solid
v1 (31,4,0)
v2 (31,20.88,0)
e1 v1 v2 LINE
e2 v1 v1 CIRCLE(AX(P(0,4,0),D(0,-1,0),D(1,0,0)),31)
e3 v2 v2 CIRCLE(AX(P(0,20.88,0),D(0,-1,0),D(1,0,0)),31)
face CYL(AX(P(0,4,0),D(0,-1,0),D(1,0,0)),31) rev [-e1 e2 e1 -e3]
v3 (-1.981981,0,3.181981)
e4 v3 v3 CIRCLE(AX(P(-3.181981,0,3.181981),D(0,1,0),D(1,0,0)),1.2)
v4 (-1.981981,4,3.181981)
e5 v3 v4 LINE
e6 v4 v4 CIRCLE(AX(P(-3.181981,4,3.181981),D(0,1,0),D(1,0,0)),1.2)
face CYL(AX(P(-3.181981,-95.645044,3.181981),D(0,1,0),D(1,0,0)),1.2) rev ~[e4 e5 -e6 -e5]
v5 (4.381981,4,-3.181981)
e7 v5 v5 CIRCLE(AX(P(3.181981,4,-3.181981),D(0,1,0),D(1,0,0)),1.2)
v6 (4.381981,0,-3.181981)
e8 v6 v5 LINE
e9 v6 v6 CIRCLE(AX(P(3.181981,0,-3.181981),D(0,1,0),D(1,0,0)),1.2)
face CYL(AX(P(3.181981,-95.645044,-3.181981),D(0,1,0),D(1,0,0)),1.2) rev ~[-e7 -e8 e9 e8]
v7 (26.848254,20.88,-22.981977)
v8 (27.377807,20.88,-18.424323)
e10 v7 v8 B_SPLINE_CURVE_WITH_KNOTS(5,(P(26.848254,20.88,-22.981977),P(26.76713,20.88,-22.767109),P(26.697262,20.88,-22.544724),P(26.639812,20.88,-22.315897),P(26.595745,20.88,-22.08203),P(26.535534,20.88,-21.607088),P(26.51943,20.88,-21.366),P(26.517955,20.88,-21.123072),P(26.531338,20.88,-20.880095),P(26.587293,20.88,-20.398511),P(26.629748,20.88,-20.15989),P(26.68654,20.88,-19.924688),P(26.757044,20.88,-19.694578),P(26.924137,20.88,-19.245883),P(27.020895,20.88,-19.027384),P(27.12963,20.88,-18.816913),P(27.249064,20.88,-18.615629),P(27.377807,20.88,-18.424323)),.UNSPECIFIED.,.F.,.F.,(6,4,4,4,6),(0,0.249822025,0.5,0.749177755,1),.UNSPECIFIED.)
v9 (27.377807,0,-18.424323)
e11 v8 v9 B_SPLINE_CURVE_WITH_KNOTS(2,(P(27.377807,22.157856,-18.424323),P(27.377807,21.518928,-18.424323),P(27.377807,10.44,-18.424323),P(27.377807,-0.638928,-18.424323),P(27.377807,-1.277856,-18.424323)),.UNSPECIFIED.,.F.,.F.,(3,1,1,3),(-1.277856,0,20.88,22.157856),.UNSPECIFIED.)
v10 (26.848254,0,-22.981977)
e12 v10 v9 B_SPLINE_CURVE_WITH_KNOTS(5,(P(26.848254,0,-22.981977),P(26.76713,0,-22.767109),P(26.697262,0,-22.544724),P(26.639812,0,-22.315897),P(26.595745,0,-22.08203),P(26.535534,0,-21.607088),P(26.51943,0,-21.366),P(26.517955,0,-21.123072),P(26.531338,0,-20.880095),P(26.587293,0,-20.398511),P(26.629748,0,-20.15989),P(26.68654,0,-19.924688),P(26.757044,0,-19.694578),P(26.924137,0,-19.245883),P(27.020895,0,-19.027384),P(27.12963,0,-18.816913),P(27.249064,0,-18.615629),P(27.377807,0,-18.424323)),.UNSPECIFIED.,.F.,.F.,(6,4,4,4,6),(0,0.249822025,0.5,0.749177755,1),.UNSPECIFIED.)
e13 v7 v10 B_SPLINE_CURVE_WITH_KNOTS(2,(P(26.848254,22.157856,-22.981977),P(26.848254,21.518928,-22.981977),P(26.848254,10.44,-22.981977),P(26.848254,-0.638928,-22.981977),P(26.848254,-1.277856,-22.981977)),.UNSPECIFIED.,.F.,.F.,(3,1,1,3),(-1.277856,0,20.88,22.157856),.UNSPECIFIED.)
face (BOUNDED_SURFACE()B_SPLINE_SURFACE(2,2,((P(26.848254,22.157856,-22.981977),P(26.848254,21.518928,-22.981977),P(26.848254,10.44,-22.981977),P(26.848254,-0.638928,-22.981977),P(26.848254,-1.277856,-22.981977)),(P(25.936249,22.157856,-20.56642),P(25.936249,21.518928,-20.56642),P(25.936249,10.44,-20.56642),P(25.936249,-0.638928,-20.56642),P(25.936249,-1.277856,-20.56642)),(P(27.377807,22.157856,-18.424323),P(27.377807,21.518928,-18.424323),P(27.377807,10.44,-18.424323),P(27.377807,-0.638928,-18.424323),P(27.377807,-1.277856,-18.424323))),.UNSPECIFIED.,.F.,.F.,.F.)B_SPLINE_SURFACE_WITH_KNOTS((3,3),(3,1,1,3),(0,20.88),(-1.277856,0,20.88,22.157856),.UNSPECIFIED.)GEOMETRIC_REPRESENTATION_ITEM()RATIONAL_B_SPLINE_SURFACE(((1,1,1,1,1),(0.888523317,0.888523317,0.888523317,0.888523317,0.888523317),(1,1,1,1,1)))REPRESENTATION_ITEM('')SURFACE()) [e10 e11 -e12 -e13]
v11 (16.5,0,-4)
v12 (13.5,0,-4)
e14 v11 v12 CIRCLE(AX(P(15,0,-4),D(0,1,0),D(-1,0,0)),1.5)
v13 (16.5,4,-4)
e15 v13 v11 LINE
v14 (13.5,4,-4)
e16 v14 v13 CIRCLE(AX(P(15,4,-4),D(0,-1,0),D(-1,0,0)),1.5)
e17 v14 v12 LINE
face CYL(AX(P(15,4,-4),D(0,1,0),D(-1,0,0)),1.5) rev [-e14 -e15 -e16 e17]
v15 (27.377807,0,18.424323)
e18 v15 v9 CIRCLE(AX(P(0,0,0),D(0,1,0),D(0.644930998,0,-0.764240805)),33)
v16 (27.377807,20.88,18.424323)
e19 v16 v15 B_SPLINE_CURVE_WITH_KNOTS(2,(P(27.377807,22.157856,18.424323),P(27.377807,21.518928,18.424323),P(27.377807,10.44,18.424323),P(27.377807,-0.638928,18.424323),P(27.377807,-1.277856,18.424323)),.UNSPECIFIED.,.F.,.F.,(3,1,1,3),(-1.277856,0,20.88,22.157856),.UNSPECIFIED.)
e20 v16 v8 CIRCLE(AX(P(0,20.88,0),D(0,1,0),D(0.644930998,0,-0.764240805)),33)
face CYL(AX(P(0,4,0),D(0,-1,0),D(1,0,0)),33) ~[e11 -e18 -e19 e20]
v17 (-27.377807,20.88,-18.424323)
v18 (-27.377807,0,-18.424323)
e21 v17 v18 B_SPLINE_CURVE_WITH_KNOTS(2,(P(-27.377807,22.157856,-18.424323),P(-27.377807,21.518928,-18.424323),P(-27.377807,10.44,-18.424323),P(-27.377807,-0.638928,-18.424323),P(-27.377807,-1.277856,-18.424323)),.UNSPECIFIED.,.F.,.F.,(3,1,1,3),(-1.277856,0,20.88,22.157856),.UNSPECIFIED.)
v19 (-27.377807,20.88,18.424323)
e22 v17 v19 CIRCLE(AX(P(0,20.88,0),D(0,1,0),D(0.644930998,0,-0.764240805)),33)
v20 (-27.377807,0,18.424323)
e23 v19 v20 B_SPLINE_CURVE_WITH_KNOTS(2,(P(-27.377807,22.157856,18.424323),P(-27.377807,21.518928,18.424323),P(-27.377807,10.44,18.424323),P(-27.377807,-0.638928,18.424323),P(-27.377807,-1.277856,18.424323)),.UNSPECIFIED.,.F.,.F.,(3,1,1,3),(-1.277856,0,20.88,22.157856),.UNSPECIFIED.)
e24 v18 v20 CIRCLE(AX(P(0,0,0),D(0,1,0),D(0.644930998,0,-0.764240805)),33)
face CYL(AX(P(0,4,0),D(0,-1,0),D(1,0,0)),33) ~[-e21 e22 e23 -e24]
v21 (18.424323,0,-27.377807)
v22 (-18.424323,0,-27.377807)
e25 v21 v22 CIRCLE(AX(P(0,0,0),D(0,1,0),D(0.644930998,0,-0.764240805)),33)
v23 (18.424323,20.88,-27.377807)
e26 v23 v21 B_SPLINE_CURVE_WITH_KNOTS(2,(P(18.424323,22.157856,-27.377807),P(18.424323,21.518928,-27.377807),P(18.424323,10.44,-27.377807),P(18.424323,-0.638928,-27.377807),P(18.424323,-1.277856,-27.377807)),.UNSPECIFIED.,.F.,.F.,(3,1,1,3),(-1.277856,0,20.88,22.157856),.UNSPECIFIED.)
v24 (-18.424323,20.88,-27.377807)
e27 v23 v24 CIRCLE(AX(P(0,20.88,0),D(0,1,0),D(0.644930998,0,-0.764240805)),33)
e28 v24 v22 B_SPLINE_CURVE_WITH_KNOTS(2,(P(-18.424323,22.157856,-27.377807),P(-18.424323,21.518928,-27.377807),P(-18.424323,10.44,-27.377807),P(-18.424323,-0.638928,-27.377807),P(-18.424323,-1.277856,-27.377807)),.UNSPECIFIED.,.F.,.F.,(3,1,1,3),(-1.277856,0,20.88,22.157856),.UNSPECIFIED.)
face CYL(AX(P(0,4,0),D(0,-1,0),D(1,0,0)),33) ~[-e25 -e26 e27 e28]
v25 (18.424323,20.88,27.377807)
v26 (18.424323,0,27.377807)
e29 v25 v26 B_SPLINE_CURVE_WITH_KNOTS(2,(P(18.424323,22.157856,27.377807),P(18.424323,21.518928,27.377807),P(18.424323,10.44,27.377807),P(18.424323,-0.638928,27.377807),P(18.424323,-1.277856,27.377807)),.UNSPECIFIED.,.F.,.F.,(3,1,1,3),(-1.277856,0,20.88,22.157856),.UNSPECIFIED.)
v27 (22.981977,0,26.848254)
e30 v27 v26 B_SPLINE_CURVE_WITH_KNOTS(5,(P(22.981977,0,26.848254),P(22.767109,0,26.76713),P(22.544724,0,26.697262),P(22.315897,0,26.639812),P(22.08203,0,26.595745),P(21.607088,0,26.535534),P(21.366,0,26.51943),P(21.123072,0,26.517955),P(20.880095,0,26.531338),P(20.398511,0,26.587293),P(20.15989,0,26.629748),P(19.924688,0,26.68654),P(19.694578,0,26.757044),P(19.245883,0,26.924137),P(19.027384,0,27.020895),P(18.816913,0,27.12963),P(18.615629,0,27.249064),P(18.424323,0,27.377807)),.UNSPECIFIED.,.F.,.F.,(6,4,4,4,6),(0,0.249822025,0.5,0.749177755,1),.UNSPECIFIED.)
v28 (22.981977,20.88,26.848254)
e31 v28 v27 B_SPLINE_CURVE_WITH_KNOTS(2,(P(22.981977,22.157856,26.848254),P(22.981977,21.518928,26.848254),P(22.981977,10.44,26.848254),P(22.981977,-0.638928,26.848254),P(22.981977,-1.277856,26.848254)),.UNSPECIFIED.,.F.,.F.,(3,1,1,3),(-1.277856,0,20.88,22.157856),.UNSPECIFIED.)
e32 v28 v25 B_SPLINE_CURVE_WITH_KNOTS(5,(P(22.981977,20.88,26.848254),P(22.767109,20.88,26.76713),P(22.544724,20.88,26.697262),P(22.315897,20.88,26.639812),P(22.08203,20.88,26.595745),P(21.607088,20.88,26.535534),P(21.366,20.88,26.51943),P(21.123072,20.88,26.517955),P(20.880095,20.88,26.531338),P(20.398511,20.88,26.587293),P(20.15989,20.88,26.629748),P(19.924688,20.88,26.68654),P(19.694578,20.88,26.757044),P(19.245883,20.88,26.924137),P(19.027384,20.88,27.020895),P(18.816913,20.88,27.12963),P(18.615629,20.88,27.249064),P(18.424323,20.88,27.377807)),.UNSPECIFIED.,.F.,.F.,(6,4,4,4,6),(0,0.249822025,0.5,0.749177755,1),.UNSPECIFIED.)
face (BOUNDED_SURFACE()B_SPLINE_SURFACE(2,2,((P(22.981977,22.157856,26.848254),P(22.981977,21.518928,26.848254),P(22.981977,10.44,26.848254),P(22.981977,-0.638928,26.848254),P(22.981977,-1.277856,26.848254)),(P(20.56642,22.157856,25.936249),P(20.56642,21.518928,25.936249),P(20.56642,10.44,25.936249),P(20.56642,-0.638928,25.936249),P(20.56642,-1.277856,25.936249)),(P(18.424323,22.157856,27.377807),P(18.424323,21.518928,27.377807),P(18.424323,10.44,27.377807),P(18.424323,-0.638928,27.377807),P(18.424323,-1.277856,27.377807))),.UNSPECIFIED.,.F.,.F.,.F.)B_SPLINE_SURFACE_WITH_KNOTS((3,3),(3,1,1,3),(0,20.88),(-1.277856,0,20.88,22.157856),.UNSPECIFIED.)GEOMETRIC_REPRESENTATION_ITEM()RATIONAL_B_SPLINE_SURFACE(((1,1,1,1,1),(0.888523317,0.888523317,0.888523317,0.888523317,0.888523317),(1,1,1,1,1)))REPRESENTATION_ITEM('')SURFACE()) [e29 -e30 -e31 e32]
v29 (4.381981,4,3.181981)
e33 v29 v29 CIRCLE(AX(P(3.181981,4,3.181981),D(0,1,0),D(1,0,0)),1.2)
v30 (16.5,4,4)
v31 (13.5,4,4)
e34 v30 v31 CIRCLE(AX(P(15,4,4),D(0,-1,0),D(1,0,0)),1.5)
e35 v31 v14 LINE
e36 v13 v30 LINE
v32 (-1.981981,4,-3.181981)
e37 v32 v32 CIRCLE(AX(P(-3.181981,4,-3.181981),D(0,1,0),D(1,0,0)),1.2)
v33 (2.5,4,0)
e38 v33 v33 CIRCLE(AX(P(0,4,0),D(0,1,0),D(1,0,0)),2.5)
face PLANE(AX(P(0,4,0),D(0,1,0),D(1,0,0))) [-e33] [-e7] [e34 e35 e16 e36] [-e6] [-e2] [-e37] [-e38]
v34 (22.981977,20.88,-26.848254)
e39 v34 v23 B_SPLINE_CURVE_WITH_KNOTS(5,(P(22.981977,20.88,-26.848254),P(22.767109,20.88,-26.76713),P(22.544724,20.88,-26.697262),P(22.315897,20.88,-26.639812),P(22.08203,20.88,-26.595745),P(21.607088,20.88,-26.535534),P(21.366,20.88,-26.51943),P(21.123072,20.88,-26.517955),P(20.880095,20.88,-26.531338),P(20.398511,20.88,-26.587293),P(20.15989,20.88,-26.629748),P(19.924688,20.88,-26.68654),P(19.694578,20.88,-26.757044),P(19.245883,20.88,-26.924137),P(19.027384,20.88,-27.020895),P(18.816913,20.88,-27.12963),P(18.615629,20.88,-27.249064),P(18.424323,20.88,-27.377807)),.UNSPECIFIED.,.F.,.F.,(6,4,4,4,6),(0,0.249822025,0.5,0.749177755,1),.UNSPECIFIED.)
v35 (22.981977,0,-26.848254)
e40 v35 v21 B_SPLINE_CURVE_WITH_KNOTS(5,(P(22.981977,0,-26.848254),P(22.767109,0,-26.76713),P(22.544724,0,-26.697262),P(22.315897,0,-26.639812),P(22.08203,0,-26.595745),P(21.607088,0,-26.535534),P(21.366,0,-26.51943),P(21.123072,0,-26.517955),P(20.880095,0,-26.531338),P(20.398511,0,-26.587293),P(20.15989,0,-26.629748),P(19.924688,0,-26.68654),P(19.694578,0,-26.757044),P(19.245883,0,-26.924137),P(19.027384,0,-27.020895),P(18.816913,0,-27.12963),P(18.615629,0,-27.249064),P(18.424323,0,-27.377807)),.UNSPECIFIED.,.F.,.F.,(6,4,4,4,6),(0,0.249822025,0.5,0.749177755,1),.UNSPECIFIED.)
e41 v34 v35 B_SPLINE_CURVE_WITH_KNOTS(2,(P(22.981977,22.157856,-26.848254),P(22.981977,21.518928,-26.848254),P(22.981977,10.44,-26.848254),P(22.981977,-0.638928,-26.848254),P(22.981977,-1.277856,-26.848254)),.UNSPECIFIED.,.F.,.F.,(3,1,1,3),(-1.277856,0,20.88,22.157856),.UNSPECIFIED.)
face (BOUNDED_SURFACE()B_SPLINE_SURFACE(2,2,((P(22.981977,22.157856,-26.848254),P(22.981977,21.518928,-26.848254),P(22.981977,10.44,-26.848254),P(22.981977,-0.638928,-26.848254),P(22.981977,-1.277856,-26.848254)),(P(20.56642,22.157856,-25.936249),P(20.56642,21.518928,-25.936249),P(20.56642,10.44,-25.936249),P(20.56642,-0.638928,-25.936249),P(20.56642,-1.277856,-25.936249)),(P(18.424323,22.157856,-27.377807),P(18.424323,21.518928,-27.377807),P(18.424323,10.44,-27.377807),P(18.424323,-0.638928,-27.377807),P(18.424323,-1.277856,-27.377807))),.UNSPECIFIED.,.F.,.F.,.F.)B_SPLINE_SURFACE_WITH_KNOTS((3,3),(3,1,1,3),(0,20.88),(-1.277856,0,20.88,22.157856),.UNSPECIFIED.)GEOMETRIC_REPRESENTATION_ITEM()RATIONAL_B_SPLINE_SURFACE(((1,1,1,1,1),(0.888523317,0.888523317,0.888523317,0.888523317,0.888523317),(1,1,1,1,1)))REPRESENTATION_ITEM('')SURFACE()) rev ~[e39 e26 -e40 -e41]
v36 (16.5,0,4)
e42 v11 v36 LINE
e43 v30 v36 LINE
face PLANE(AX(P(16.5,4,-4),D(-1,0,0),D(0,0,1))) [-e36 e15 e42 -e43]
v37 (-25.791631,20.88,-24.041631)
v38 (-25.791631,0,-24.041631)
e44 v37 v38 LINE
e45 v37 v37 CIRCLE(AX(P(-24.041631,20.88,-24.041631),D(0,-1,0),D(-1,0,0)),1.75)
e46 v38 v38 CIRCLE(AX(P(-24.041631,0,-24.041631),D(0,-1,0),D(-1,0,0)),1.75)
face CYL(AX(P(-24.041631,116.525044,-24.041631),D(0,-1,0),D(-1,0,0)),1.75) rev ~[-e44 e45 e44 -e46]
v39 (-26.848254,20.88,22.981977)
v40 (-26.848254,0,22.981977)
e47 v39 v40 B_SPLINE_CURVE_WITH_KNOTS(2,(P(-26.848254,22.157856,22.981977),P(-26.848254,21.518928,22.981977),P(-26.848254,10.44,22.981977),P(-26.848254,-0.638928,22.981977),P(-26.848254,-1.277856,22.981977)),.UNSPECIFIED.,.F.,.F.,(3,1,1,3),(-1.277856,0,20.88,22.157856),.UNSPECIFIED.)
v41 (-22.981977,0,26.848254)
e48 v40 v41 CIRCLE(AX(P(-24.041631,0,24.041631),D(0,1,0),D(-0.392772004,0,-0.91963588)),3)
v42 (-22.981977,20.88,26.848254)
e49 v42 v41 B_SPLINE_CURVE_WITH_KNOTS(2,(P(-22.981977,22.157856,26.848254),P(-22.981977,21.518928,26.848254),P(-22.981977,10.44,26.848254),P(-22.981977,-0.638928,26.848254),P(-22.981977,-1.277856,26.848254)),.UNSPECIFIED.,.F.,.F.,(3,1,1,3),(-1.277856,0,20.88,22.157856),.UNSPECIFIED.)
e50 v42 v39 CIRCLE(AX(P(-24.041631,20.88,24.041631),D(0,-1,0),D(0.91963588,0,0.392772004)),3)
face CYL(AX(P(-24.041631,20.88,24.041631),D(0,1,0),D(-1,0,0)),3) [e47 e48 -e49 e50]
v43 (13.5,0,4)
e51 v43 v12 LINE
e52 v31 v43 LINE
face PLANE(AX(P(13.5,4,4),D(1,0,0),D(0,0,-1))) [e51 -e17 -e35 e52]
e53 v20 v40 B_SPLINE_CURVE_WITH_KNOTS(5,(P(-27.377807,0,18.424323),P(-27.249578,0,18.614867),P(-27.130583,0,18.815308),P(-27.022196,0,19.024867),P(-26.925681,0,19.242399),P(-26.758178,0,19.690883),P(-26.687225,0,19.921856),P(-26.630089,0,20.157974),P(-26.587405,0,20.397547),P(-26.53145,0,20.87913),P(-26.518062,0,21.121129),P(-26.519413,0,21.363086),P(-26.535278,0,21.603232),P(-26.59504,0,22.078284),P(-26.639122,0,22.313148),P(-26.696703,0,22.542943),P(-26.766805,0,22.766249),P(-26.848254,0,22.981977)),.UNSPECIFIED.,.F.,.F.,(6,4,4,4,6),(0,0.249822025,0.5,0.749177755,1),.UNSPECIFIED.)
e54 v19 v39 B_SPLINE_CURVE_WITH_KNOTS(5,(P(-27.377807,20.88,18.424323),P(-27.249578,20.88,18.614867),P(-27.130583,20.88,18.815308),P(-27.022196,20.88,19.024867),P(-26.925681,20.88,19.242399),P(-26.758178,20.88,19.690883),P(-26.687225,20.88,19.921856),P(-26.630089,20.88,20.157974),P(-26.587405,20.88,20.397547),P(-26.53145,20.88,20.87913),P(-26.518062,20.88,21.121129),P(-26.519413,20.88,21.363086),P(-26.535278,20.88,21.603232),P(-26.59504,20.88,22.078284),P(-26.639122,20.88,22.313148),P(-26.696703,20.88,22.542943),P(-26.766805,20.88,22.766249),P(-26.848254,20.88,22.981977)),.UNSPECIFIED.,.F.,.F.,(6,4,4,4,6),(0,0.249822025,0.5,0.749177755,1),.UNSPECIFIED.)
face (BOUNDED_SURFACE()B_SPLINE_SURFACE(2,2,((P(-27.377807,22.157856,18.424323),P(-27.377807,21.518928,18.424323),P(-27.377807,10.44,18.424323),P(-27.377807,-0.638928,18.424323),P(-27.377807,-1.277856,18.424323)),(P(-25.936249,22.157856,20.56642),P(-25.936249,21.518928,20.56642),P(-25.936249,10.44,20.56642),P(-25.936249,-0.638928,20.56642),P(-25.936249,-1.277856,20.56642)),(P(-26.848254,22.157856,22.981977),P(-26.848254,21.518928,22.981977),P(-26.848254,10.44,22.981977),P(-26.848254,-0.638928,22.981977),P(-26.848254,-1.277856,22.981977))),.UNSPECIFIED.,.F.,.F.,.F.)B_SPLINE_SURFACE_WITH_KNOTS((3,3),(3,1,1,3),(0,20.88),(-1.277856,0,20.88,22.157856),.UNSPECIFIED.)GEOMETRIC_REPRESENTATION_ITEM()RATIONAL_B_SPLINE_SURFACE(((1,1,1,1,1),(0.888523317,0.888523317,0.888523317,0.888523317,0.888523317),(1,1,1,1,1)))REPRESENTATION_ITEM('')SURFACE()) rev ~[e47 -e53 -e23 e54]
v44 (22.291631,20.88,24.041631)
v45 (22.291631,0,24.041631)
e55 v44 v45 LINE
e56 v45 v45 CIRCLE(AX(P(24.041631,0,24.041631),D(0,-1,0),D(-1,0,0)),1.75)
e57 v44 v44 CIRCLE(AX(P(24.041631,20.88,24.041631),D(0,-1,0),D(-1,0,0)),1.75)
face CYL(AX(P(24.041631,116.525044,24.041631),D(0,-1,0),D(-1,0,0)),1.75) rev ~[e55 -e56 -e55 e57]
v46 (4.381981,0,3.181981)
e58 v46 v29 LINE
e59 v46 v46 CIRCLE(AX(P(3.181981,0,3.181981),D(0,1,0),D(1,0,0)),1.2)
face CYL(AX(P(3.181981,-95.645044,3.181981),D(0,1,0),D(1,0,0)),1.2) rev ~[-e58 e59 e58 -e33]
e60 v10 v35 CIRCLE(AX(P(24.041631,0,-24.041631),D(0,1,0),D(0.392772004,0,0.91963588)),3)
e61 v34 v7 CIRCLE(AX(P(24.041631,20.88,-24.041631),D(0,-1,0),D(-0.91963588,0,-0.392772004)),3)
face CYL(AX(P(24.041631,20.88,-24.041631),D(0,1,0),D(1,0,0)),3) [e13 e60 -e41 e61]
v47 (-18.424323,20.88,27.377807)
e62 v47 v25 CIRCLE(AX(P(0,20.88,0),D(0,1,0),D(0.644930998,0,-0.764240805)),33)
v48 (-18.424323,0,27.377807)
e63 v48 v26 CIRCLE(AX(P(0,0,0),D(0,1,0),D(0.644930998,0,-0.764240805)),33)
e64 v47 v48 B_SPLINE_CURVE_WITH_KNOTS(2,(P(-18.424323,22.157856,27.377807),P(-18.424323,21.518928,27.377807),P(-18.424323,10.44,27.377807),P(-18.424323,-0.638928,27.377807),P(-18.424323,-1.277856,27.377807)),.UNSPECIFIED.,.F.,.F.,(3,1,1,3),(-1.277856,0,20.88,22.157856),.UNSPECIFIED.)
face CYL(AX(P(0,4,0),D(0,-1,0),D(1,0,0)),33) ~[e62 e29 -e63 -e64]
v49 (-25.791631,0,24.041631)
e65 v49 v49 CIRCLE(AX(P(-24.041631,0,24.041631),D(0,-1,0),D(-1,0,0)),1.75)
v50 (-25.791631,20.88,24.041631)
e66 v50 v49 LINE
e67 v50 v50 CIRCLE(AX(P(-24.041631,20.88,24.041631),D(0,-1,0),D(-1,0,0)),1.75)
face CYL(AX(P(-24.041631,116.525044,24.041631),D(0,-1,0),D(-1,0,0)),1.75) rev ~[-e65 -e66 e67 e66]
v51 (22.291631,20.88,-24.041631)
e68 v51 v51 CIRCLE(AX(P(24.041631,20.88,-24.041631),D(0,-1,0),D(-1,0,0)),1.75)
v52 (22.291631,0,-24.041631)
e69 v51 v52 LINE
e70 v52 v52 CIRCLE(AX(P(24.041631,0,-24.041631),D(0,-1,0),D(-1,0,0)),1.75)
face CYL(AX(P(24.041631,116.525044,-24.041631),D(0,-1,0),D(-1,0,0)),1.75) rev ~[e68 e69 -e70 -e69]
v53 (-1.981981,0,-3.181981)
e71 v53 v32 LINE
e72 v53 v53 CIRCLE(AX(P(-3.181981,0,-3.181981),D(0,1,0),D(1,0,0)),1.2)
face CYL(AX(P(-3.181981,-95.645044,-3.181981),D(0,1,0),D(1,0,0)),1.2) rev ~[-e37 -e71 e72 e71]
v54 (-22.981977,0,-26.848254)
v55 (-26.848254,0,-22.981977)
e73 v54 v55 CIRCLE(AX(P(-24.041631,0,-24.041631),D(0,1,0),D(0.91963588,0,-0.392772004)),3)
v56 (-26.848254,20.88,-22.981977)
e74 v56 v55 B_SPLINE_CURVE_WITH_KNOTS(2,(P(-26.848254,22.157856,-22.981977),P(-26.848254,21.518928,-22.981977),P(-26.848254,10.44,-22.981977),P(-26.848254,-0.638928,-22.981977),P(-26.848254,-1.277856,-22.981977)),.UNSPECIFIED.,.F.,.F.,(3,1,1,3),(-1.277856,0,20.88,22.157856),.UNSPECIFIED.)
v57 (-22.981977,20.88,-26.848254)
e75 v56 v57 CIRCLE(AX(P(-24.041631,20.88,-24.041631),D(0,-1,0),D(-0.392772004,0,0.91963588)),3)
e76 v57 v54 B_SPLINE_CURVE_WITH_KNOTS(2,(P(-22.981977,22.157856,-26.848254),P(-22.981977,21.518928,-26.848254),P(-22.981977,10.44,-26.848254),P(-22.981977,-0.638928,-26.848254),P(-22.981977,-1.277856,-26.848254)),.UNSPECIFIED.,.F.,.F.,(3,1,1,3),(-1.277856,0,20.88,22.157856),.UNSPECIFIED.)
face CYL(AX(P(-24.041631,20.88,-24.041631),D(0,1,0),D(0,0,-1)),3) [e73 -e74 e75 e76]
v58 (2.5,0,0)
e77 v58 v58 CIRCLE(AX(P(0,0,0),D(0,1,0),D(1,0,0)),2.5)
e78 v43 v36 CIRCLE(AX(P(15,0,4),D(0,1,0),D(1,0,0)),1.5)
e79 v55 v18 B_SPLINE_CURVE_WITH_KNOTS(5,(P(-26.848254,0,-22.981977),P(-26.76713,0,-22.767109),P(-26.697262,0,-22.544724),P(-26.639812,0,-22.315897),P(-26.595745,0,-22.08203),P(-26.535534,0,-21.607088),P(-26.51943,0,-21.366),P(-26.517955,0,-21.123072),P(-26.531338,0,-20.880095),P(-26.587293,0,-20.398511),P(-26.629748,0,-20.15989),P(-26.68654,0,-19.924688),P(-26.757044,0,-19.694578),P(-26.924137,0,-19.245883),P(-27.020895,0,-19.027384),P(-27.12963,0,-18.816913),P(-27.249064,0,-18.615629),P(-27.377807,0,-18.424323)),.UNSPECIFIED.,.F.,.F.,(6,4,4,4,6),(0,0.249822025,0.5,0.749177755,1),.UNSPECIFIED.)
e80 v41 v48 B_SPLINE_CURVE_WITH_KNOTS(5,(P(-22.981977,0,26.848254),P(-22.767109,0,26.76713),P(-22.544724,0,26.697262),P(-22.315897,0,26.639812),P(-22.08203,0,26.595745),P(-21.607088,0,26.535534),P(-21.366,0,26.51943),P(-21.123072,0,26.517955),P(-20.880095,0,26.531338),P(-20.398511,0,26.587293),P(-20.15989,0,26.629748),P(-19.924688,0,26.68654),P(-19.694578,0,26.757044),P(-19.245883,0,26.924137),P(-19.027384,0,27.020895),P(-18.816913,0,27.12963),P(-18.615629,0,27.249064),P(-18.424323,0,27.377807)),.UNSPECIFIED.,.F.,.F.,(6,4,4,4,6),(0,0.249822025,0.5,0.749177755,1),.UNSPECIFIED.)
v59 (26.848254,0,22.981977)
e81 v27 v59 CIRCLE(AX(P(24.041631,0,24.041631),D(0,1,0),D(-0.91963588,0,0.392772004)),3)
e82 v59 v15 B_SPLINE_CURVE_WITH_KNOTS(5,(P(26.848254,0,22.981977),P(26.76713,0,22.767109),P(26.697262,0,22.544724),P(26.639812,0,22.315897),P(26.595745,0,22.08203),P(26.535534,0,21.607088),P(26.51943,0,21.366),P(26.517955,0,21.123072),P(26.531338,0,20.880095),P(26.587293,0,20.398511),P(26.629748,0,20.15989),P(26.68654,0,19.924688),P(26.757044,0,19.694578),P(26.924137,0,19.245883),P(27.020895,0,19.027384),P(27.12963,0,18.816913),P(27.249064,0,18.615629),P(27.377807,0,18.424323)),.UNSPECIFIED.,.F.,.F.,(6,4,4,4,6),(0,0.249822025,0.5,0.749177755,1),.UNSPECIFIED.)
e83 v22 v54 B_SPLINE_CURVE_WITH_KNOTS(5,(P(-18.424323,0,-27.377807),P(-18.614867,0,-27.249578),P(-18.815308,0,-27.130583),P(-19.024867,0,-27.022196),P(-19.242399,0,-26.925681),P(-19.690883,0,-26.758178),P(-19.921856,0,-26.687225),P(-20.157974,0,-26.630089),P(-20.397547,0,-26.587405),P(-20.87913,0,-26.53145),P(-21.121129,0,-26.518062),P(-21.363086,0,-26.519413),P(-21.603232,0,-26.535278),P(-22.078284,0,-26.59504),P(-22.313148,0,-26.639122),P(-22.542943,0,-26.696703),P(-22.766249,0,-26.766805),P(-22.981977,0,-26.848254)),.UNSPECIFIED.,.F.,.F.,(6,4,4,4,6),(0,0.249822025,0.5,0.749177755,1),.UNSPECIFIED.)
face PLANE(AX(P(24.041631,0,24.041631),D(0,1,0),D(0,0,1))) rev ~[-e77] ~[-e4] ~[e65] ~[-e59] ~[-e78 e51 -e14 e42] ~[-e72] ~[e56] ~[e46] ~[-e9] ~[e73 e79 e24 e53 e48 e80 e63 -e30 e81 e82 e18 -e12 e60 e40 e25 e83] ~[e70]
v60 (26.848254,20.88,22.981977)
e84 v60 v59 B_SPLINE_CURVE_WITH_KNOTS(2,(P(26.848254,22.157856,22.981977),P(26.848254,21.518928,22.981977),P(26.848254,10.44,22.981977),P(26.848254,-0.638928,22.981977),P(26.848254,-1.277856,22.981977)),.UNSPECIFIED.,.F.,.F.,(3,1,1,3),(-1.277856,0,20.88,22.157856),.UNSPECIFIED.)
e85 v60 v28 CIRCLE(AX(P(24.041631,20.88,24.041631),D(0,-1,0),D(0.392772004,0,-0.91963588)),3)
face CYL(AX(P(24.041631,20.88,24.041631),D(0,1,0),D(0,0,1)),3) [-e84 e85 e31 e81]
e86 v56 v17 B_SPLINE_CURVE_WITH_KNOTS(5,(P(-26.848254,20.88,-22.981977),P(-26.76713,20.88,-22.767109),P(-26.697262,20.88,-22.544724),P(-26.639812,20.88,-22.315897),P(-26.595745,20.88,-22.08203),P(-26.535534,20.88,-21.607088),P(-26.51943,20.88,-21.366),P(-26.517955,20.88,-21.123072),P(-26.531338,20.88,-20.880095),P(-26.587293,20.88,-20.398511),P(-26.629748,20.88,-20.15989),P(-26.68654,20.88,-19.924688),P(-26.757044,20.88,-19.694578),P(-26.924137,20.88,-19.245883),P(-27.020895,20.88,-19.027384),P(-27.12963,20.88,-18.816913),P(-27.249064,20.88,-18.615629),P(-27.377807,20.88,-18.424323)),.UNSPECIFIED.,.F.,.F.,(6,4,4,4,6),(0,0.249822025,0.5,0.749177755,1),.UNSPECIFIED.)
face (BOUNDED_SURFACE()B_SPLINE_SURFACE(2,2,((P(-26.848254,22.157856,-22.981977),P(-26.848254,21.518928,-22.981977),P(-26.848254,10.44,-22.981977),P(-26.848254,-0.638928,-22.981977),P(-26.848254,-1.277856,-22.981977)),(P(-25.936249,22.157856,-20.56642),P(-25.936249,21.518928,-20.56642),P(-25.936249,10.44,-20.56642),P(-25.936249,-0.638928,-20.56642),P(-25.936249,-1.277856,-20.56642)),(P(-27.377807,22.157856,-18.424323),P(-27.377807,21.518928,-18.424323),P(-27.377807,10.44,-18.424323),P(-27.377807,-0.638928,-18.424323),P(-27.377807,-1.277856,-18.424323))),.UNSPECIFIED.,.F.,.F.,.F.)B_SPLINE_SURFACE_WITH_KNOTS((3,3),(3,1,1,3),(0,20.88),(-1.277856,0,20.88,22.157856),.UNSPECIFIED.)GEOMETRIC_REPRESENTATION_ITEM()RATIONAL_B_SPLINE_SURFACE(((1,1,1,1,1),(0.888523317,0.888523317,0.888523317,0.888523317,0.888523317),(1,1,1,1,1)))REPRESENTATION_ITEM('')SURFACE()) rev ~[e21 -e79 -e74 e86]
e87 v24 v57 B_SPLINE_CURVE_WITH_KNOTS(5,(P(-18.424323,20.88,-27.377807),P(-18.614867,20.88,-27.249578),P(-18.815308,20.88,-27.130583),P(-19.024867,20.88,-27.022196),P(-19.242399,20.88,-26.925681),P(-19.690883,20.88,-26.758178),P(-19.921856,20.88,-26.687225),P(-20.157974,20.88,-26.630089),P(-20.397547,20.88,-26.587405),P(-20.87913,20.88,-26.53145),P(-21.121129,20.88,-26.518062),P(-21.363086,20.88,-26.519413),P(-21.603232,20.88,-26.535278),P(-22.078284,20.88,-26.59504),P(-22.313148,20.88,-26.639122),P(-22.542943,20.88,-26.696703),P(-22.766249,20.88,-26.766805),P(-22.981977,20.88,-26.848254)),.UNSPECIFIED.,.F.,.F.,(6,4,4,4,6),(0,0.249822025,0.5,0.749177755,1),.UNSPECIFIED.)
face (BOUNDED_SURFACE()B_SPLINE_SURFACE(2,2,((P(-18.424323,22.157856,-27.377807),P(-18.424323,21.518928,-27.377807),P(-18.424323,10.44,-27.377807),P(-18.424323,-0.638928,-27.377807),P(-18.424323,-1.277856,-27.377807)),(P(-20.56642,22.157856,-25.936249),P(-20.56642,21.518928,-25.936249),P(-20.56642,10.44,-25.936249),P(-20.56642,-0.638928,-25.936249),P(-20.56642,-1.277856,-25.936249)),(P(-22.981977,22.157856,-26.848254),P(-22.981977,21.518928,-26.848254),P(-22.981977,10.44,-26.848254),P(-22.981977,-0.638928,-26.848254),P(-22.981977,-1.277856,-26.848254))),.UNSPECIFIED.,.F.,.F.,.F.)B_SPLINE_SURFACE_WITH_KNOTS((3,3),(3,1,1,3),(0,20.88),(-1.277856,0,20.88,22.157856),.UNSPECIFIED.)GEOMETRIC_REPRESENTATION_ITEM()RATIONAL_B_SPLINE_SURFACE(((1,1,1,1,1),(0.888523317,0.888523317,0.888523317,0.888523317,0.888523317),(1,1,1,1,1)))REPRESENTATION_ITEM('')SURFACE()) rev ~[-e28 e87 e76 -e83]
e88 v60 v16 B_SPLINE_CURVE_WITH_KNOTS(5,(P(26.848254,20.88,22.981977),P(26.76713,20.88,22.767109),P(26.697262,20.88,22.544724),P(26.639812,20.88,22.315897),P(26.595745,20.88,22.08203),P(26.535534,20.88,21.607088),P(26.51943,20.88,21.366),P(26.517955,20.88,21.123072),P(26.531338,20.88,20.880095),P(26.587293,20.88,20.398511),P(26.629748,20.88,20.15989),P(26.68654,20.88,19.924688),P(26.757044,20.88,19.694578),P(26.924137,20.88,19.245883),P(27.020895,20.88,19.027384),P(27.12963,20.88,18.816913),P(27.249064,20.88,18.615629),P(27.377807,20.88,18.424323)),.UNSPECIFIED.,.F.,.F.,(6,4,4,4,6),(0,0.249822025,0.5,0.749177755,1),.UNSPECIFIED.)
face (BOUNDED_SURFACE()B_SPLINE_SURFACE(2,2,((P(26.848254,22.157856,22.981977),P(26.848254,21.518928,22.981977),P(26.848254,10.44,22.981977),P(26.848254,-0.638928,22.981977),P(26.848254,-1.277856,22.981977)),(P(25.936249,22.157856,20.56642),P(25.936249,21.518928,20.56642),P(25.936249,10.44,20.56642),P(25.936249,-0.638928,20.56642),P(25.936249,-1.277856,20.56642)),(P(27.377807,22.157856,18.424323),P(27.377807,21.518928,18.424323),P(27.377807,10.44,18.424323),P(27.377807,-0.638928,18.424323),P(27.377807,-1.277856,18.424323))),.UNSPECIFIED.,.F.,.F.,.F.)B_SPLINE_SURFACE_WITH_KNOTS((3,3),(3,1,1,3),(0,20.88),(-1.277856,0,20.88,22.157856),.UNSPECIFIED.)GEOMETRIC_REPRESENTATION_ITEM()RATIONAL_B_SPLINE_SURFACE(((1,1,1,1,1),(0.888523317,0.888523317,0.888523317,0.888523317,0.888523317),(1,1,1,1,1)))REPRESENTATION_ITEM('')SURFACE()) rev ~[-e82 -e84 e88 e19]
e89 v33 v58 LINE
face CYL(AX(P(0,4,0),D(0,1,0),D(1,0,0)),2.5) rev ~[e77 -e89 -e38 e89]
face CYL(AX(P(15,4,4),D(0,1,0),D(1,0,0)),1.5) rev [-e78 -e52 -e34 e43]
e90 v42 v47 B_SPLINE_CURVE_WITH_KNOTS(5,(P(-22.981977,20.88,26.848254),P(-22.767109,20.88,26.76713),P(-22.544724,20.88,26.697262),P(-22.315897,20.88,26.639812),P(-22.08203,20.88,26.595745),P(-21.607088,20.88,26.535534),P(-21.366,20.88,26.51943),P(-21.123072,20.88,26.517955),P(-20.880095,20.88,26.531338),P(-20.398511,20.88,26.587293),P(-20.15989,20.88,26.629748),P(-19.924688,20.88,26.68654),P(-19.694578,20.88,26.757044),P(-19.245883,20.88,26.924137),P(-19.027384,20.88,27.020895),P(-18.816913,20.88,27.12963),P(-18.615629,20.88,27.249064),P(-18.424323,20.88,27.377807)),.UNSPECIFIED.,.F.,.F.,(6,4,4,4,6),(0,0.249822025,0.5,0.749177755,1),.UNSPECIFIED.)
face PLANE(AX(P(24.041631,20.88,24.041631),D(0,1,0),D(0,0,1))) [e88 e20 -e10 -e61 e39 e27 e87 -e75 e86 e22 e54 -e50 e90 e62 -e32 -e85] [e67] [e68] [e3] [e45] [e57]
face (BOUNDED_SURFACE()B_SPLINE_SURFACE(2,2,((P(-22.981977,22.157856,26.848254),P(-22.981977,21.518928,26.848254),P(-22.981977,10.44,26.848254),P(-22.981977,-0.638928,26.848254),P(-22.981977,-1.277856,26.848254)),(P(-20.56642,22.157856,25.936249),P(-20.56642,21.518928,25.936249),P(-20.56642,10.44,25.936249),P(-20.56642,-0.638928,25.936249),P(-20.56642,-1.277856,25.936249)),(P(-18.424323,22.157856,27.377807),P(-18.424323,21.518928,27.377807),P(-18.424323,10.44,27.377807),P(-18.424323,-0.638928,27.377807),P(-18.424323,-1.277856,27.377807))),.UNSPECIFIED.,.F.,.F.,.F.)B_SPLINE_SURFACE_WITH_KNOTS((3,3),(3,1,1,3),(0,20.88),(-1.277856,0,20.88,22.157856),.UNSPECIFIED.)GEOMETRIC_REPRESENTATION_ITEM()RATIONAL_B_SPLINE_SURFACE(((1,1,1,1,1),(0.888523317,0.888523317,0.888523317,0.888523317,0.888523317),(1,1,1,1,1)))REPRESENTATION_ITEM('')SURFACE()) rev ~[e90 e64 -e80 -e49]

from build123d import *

# Parameters (mm, degrees)
SKETCH1_R                = 33
BOSS_EXTRUDE1_DEPTH      = 4
SKETCH2_R                = 33
SKETCH2_R_2              = 31
BOSS_EXTRUDE2_DEPTH      = 16.88
M2_CLEARANCE_HOLE1_D     = 2.4
SKETCH13_R               = 2.5
CUT_EXTRUDE3_DEPTH       = 5
CUT_EXTRUDE2_DEPTH       = 5
SKETCH15_R               = 3
BOSS_EXTRUDE3_DEPTH      = 20.88
FILLET1_R                = 5
CIRPATTERN1_COUNT        = 4
FILLET1_OF_CIRPATTERN1_R = 5
F_3_0_MM_DOWEL_HOLES1_D  = 3.5


with BuildPart() as part:
    # Sketch1 → Boss-Extrude1 (new body)
    with BuildSketch(Plane(origin=(0, 0, 0), x_dir=(1, 0, 0), z_dir=(0, 1, 0))):
        Circle(SKETCH1_R)
    extrude(amount=BOSS_EXTRUDE1_DEPTH)

    # Sketch2 → Boss-Extrude2 (add)
    with BuildSketch(Plane(origin=(0, 4, 0), x_dir=(1, 0, 0), z_dir=(0, 1, 0))):
        Circle(SKETCH2_R)
        Circle(SKETCH2_R_2, mode=Mode.SUBTRACT)
    extrude(amount=BOSS_EXTRUDE2_DEPTH)

    # M2 Clearance Hole1 (through all)
    with Locations(Plane(origin=(0, 0, 0), x_dir=(-1, 0, 0), z_dir=(0, -1, 0))):
        with Locations((3.181980515, 3.181980515), (3.181980515, -3.181980515), (-3.181980515, -3.181980515), (-3.181980515, 3.181980515)):
            Hole(M2_CLEARANCE_HOLE1_D / 2)

    # Sketch13 → Cut-Extrude3 (cut, through all)
    with BuildSketch(Plane(origin=(0, 4, 0), x_dir=(1, 0, 0), z_dir=(0, 1, 0))):
        Circle(SKETCH13_R)
    extrude(amount=-CUT_EXTRUDE3_DEPTH, mode=Mode.SUBTRACT)

    # Sketch10 → Cut-Extrude2 (cut, through all)
    with BuildSketch(Plane(origin=(0, 4, 0), x_dir=(1, 0, 0), z_dir=(0, 1, 0))):
        with BuildLine():
            Line((13.5, -4), (13.5, 4))
            ThreePointArc((13.5, 4), (15, 5.5), (16.5, 4))
            Line((16.5, 4), (16.5, -4))
            ThreePointArc((16.5, -4), (15, -5.5), (13.5, -4))
        make_face()
    extrude(amount=-CUT_EXTRUDE2_DEPTH, mode=Mode.SUBTRACT)

    # Sketch15 → Boss-Extrude3 (add, through all)
    with BuildSketch(Plane(origin=(0, 20.88, 0), x_dir=(1, 0, 0), z_dir=(0, 1, 0))):
        with Locations((24.04163056, 24.04163056)):
            Circle(SKETCH15_R)
    boss_extrude3 = extrude(amount=-BOSS_EXTRUDE3_DEPTH)

    # Fillet1
    fillet1_edges = [part.edges().sort_by_distance(p)[0] for p in [
        (25.219946573, 10.44, -21.282722919),
        (21.282722919, 10.44, -25.219946573),
    ]]
    fillet(fillet1_edges, radius=FILLET1_R)

    # CirPattern1: Boss-Extrude3 ×4 about axis
    cirpattern1_axis = Axis((0, 0, 0), (0, 1, 0))
    for i in range(1, CIRPATTERN1_COUNT):
        add(boss_extrude3.rotate(cirpattern1_axis, i * 360 / CIRPATTERN1_COUNT))

    # Fillet1 of CirPattern1
    fillet1_of_cirpattern1_edges = [part.edges().sort_by_distance(p)[0] for p in [
        (-21.282722919, 10.44, -25.219946573),
        (-25.219946573, 10.44, -21.282722919),
        (-25.219946573, 10.44, 21.282722919),
        (-21.282722919, 10.44, 25.219946573),
        (21.282722919, 10.44, 25.219946573),
        (25.219946573, 10.44, 21.282722919),
    ]]
    fillet(fillet1_of_cirpattern1_edges, radius=FILLET1_OF_CIRPATTERN1_R)

    # Ø3.0 mm Dowel Holes1 (through all)
    with Locations(Plane(origin=(0, 20.88, 0), x_dir=(1, 0, 0), z_dir=(0, 1, 0))):
        with Locations((24.04163056, -24.04163056), (-24.04163056, -24.04163056), (-24.04163056, 24.04163056), (24.04163056, 24.04163056)):
            Hole(F_3_0_MM_DOWEL_HOLES1_D / 2)


solid = part.part
